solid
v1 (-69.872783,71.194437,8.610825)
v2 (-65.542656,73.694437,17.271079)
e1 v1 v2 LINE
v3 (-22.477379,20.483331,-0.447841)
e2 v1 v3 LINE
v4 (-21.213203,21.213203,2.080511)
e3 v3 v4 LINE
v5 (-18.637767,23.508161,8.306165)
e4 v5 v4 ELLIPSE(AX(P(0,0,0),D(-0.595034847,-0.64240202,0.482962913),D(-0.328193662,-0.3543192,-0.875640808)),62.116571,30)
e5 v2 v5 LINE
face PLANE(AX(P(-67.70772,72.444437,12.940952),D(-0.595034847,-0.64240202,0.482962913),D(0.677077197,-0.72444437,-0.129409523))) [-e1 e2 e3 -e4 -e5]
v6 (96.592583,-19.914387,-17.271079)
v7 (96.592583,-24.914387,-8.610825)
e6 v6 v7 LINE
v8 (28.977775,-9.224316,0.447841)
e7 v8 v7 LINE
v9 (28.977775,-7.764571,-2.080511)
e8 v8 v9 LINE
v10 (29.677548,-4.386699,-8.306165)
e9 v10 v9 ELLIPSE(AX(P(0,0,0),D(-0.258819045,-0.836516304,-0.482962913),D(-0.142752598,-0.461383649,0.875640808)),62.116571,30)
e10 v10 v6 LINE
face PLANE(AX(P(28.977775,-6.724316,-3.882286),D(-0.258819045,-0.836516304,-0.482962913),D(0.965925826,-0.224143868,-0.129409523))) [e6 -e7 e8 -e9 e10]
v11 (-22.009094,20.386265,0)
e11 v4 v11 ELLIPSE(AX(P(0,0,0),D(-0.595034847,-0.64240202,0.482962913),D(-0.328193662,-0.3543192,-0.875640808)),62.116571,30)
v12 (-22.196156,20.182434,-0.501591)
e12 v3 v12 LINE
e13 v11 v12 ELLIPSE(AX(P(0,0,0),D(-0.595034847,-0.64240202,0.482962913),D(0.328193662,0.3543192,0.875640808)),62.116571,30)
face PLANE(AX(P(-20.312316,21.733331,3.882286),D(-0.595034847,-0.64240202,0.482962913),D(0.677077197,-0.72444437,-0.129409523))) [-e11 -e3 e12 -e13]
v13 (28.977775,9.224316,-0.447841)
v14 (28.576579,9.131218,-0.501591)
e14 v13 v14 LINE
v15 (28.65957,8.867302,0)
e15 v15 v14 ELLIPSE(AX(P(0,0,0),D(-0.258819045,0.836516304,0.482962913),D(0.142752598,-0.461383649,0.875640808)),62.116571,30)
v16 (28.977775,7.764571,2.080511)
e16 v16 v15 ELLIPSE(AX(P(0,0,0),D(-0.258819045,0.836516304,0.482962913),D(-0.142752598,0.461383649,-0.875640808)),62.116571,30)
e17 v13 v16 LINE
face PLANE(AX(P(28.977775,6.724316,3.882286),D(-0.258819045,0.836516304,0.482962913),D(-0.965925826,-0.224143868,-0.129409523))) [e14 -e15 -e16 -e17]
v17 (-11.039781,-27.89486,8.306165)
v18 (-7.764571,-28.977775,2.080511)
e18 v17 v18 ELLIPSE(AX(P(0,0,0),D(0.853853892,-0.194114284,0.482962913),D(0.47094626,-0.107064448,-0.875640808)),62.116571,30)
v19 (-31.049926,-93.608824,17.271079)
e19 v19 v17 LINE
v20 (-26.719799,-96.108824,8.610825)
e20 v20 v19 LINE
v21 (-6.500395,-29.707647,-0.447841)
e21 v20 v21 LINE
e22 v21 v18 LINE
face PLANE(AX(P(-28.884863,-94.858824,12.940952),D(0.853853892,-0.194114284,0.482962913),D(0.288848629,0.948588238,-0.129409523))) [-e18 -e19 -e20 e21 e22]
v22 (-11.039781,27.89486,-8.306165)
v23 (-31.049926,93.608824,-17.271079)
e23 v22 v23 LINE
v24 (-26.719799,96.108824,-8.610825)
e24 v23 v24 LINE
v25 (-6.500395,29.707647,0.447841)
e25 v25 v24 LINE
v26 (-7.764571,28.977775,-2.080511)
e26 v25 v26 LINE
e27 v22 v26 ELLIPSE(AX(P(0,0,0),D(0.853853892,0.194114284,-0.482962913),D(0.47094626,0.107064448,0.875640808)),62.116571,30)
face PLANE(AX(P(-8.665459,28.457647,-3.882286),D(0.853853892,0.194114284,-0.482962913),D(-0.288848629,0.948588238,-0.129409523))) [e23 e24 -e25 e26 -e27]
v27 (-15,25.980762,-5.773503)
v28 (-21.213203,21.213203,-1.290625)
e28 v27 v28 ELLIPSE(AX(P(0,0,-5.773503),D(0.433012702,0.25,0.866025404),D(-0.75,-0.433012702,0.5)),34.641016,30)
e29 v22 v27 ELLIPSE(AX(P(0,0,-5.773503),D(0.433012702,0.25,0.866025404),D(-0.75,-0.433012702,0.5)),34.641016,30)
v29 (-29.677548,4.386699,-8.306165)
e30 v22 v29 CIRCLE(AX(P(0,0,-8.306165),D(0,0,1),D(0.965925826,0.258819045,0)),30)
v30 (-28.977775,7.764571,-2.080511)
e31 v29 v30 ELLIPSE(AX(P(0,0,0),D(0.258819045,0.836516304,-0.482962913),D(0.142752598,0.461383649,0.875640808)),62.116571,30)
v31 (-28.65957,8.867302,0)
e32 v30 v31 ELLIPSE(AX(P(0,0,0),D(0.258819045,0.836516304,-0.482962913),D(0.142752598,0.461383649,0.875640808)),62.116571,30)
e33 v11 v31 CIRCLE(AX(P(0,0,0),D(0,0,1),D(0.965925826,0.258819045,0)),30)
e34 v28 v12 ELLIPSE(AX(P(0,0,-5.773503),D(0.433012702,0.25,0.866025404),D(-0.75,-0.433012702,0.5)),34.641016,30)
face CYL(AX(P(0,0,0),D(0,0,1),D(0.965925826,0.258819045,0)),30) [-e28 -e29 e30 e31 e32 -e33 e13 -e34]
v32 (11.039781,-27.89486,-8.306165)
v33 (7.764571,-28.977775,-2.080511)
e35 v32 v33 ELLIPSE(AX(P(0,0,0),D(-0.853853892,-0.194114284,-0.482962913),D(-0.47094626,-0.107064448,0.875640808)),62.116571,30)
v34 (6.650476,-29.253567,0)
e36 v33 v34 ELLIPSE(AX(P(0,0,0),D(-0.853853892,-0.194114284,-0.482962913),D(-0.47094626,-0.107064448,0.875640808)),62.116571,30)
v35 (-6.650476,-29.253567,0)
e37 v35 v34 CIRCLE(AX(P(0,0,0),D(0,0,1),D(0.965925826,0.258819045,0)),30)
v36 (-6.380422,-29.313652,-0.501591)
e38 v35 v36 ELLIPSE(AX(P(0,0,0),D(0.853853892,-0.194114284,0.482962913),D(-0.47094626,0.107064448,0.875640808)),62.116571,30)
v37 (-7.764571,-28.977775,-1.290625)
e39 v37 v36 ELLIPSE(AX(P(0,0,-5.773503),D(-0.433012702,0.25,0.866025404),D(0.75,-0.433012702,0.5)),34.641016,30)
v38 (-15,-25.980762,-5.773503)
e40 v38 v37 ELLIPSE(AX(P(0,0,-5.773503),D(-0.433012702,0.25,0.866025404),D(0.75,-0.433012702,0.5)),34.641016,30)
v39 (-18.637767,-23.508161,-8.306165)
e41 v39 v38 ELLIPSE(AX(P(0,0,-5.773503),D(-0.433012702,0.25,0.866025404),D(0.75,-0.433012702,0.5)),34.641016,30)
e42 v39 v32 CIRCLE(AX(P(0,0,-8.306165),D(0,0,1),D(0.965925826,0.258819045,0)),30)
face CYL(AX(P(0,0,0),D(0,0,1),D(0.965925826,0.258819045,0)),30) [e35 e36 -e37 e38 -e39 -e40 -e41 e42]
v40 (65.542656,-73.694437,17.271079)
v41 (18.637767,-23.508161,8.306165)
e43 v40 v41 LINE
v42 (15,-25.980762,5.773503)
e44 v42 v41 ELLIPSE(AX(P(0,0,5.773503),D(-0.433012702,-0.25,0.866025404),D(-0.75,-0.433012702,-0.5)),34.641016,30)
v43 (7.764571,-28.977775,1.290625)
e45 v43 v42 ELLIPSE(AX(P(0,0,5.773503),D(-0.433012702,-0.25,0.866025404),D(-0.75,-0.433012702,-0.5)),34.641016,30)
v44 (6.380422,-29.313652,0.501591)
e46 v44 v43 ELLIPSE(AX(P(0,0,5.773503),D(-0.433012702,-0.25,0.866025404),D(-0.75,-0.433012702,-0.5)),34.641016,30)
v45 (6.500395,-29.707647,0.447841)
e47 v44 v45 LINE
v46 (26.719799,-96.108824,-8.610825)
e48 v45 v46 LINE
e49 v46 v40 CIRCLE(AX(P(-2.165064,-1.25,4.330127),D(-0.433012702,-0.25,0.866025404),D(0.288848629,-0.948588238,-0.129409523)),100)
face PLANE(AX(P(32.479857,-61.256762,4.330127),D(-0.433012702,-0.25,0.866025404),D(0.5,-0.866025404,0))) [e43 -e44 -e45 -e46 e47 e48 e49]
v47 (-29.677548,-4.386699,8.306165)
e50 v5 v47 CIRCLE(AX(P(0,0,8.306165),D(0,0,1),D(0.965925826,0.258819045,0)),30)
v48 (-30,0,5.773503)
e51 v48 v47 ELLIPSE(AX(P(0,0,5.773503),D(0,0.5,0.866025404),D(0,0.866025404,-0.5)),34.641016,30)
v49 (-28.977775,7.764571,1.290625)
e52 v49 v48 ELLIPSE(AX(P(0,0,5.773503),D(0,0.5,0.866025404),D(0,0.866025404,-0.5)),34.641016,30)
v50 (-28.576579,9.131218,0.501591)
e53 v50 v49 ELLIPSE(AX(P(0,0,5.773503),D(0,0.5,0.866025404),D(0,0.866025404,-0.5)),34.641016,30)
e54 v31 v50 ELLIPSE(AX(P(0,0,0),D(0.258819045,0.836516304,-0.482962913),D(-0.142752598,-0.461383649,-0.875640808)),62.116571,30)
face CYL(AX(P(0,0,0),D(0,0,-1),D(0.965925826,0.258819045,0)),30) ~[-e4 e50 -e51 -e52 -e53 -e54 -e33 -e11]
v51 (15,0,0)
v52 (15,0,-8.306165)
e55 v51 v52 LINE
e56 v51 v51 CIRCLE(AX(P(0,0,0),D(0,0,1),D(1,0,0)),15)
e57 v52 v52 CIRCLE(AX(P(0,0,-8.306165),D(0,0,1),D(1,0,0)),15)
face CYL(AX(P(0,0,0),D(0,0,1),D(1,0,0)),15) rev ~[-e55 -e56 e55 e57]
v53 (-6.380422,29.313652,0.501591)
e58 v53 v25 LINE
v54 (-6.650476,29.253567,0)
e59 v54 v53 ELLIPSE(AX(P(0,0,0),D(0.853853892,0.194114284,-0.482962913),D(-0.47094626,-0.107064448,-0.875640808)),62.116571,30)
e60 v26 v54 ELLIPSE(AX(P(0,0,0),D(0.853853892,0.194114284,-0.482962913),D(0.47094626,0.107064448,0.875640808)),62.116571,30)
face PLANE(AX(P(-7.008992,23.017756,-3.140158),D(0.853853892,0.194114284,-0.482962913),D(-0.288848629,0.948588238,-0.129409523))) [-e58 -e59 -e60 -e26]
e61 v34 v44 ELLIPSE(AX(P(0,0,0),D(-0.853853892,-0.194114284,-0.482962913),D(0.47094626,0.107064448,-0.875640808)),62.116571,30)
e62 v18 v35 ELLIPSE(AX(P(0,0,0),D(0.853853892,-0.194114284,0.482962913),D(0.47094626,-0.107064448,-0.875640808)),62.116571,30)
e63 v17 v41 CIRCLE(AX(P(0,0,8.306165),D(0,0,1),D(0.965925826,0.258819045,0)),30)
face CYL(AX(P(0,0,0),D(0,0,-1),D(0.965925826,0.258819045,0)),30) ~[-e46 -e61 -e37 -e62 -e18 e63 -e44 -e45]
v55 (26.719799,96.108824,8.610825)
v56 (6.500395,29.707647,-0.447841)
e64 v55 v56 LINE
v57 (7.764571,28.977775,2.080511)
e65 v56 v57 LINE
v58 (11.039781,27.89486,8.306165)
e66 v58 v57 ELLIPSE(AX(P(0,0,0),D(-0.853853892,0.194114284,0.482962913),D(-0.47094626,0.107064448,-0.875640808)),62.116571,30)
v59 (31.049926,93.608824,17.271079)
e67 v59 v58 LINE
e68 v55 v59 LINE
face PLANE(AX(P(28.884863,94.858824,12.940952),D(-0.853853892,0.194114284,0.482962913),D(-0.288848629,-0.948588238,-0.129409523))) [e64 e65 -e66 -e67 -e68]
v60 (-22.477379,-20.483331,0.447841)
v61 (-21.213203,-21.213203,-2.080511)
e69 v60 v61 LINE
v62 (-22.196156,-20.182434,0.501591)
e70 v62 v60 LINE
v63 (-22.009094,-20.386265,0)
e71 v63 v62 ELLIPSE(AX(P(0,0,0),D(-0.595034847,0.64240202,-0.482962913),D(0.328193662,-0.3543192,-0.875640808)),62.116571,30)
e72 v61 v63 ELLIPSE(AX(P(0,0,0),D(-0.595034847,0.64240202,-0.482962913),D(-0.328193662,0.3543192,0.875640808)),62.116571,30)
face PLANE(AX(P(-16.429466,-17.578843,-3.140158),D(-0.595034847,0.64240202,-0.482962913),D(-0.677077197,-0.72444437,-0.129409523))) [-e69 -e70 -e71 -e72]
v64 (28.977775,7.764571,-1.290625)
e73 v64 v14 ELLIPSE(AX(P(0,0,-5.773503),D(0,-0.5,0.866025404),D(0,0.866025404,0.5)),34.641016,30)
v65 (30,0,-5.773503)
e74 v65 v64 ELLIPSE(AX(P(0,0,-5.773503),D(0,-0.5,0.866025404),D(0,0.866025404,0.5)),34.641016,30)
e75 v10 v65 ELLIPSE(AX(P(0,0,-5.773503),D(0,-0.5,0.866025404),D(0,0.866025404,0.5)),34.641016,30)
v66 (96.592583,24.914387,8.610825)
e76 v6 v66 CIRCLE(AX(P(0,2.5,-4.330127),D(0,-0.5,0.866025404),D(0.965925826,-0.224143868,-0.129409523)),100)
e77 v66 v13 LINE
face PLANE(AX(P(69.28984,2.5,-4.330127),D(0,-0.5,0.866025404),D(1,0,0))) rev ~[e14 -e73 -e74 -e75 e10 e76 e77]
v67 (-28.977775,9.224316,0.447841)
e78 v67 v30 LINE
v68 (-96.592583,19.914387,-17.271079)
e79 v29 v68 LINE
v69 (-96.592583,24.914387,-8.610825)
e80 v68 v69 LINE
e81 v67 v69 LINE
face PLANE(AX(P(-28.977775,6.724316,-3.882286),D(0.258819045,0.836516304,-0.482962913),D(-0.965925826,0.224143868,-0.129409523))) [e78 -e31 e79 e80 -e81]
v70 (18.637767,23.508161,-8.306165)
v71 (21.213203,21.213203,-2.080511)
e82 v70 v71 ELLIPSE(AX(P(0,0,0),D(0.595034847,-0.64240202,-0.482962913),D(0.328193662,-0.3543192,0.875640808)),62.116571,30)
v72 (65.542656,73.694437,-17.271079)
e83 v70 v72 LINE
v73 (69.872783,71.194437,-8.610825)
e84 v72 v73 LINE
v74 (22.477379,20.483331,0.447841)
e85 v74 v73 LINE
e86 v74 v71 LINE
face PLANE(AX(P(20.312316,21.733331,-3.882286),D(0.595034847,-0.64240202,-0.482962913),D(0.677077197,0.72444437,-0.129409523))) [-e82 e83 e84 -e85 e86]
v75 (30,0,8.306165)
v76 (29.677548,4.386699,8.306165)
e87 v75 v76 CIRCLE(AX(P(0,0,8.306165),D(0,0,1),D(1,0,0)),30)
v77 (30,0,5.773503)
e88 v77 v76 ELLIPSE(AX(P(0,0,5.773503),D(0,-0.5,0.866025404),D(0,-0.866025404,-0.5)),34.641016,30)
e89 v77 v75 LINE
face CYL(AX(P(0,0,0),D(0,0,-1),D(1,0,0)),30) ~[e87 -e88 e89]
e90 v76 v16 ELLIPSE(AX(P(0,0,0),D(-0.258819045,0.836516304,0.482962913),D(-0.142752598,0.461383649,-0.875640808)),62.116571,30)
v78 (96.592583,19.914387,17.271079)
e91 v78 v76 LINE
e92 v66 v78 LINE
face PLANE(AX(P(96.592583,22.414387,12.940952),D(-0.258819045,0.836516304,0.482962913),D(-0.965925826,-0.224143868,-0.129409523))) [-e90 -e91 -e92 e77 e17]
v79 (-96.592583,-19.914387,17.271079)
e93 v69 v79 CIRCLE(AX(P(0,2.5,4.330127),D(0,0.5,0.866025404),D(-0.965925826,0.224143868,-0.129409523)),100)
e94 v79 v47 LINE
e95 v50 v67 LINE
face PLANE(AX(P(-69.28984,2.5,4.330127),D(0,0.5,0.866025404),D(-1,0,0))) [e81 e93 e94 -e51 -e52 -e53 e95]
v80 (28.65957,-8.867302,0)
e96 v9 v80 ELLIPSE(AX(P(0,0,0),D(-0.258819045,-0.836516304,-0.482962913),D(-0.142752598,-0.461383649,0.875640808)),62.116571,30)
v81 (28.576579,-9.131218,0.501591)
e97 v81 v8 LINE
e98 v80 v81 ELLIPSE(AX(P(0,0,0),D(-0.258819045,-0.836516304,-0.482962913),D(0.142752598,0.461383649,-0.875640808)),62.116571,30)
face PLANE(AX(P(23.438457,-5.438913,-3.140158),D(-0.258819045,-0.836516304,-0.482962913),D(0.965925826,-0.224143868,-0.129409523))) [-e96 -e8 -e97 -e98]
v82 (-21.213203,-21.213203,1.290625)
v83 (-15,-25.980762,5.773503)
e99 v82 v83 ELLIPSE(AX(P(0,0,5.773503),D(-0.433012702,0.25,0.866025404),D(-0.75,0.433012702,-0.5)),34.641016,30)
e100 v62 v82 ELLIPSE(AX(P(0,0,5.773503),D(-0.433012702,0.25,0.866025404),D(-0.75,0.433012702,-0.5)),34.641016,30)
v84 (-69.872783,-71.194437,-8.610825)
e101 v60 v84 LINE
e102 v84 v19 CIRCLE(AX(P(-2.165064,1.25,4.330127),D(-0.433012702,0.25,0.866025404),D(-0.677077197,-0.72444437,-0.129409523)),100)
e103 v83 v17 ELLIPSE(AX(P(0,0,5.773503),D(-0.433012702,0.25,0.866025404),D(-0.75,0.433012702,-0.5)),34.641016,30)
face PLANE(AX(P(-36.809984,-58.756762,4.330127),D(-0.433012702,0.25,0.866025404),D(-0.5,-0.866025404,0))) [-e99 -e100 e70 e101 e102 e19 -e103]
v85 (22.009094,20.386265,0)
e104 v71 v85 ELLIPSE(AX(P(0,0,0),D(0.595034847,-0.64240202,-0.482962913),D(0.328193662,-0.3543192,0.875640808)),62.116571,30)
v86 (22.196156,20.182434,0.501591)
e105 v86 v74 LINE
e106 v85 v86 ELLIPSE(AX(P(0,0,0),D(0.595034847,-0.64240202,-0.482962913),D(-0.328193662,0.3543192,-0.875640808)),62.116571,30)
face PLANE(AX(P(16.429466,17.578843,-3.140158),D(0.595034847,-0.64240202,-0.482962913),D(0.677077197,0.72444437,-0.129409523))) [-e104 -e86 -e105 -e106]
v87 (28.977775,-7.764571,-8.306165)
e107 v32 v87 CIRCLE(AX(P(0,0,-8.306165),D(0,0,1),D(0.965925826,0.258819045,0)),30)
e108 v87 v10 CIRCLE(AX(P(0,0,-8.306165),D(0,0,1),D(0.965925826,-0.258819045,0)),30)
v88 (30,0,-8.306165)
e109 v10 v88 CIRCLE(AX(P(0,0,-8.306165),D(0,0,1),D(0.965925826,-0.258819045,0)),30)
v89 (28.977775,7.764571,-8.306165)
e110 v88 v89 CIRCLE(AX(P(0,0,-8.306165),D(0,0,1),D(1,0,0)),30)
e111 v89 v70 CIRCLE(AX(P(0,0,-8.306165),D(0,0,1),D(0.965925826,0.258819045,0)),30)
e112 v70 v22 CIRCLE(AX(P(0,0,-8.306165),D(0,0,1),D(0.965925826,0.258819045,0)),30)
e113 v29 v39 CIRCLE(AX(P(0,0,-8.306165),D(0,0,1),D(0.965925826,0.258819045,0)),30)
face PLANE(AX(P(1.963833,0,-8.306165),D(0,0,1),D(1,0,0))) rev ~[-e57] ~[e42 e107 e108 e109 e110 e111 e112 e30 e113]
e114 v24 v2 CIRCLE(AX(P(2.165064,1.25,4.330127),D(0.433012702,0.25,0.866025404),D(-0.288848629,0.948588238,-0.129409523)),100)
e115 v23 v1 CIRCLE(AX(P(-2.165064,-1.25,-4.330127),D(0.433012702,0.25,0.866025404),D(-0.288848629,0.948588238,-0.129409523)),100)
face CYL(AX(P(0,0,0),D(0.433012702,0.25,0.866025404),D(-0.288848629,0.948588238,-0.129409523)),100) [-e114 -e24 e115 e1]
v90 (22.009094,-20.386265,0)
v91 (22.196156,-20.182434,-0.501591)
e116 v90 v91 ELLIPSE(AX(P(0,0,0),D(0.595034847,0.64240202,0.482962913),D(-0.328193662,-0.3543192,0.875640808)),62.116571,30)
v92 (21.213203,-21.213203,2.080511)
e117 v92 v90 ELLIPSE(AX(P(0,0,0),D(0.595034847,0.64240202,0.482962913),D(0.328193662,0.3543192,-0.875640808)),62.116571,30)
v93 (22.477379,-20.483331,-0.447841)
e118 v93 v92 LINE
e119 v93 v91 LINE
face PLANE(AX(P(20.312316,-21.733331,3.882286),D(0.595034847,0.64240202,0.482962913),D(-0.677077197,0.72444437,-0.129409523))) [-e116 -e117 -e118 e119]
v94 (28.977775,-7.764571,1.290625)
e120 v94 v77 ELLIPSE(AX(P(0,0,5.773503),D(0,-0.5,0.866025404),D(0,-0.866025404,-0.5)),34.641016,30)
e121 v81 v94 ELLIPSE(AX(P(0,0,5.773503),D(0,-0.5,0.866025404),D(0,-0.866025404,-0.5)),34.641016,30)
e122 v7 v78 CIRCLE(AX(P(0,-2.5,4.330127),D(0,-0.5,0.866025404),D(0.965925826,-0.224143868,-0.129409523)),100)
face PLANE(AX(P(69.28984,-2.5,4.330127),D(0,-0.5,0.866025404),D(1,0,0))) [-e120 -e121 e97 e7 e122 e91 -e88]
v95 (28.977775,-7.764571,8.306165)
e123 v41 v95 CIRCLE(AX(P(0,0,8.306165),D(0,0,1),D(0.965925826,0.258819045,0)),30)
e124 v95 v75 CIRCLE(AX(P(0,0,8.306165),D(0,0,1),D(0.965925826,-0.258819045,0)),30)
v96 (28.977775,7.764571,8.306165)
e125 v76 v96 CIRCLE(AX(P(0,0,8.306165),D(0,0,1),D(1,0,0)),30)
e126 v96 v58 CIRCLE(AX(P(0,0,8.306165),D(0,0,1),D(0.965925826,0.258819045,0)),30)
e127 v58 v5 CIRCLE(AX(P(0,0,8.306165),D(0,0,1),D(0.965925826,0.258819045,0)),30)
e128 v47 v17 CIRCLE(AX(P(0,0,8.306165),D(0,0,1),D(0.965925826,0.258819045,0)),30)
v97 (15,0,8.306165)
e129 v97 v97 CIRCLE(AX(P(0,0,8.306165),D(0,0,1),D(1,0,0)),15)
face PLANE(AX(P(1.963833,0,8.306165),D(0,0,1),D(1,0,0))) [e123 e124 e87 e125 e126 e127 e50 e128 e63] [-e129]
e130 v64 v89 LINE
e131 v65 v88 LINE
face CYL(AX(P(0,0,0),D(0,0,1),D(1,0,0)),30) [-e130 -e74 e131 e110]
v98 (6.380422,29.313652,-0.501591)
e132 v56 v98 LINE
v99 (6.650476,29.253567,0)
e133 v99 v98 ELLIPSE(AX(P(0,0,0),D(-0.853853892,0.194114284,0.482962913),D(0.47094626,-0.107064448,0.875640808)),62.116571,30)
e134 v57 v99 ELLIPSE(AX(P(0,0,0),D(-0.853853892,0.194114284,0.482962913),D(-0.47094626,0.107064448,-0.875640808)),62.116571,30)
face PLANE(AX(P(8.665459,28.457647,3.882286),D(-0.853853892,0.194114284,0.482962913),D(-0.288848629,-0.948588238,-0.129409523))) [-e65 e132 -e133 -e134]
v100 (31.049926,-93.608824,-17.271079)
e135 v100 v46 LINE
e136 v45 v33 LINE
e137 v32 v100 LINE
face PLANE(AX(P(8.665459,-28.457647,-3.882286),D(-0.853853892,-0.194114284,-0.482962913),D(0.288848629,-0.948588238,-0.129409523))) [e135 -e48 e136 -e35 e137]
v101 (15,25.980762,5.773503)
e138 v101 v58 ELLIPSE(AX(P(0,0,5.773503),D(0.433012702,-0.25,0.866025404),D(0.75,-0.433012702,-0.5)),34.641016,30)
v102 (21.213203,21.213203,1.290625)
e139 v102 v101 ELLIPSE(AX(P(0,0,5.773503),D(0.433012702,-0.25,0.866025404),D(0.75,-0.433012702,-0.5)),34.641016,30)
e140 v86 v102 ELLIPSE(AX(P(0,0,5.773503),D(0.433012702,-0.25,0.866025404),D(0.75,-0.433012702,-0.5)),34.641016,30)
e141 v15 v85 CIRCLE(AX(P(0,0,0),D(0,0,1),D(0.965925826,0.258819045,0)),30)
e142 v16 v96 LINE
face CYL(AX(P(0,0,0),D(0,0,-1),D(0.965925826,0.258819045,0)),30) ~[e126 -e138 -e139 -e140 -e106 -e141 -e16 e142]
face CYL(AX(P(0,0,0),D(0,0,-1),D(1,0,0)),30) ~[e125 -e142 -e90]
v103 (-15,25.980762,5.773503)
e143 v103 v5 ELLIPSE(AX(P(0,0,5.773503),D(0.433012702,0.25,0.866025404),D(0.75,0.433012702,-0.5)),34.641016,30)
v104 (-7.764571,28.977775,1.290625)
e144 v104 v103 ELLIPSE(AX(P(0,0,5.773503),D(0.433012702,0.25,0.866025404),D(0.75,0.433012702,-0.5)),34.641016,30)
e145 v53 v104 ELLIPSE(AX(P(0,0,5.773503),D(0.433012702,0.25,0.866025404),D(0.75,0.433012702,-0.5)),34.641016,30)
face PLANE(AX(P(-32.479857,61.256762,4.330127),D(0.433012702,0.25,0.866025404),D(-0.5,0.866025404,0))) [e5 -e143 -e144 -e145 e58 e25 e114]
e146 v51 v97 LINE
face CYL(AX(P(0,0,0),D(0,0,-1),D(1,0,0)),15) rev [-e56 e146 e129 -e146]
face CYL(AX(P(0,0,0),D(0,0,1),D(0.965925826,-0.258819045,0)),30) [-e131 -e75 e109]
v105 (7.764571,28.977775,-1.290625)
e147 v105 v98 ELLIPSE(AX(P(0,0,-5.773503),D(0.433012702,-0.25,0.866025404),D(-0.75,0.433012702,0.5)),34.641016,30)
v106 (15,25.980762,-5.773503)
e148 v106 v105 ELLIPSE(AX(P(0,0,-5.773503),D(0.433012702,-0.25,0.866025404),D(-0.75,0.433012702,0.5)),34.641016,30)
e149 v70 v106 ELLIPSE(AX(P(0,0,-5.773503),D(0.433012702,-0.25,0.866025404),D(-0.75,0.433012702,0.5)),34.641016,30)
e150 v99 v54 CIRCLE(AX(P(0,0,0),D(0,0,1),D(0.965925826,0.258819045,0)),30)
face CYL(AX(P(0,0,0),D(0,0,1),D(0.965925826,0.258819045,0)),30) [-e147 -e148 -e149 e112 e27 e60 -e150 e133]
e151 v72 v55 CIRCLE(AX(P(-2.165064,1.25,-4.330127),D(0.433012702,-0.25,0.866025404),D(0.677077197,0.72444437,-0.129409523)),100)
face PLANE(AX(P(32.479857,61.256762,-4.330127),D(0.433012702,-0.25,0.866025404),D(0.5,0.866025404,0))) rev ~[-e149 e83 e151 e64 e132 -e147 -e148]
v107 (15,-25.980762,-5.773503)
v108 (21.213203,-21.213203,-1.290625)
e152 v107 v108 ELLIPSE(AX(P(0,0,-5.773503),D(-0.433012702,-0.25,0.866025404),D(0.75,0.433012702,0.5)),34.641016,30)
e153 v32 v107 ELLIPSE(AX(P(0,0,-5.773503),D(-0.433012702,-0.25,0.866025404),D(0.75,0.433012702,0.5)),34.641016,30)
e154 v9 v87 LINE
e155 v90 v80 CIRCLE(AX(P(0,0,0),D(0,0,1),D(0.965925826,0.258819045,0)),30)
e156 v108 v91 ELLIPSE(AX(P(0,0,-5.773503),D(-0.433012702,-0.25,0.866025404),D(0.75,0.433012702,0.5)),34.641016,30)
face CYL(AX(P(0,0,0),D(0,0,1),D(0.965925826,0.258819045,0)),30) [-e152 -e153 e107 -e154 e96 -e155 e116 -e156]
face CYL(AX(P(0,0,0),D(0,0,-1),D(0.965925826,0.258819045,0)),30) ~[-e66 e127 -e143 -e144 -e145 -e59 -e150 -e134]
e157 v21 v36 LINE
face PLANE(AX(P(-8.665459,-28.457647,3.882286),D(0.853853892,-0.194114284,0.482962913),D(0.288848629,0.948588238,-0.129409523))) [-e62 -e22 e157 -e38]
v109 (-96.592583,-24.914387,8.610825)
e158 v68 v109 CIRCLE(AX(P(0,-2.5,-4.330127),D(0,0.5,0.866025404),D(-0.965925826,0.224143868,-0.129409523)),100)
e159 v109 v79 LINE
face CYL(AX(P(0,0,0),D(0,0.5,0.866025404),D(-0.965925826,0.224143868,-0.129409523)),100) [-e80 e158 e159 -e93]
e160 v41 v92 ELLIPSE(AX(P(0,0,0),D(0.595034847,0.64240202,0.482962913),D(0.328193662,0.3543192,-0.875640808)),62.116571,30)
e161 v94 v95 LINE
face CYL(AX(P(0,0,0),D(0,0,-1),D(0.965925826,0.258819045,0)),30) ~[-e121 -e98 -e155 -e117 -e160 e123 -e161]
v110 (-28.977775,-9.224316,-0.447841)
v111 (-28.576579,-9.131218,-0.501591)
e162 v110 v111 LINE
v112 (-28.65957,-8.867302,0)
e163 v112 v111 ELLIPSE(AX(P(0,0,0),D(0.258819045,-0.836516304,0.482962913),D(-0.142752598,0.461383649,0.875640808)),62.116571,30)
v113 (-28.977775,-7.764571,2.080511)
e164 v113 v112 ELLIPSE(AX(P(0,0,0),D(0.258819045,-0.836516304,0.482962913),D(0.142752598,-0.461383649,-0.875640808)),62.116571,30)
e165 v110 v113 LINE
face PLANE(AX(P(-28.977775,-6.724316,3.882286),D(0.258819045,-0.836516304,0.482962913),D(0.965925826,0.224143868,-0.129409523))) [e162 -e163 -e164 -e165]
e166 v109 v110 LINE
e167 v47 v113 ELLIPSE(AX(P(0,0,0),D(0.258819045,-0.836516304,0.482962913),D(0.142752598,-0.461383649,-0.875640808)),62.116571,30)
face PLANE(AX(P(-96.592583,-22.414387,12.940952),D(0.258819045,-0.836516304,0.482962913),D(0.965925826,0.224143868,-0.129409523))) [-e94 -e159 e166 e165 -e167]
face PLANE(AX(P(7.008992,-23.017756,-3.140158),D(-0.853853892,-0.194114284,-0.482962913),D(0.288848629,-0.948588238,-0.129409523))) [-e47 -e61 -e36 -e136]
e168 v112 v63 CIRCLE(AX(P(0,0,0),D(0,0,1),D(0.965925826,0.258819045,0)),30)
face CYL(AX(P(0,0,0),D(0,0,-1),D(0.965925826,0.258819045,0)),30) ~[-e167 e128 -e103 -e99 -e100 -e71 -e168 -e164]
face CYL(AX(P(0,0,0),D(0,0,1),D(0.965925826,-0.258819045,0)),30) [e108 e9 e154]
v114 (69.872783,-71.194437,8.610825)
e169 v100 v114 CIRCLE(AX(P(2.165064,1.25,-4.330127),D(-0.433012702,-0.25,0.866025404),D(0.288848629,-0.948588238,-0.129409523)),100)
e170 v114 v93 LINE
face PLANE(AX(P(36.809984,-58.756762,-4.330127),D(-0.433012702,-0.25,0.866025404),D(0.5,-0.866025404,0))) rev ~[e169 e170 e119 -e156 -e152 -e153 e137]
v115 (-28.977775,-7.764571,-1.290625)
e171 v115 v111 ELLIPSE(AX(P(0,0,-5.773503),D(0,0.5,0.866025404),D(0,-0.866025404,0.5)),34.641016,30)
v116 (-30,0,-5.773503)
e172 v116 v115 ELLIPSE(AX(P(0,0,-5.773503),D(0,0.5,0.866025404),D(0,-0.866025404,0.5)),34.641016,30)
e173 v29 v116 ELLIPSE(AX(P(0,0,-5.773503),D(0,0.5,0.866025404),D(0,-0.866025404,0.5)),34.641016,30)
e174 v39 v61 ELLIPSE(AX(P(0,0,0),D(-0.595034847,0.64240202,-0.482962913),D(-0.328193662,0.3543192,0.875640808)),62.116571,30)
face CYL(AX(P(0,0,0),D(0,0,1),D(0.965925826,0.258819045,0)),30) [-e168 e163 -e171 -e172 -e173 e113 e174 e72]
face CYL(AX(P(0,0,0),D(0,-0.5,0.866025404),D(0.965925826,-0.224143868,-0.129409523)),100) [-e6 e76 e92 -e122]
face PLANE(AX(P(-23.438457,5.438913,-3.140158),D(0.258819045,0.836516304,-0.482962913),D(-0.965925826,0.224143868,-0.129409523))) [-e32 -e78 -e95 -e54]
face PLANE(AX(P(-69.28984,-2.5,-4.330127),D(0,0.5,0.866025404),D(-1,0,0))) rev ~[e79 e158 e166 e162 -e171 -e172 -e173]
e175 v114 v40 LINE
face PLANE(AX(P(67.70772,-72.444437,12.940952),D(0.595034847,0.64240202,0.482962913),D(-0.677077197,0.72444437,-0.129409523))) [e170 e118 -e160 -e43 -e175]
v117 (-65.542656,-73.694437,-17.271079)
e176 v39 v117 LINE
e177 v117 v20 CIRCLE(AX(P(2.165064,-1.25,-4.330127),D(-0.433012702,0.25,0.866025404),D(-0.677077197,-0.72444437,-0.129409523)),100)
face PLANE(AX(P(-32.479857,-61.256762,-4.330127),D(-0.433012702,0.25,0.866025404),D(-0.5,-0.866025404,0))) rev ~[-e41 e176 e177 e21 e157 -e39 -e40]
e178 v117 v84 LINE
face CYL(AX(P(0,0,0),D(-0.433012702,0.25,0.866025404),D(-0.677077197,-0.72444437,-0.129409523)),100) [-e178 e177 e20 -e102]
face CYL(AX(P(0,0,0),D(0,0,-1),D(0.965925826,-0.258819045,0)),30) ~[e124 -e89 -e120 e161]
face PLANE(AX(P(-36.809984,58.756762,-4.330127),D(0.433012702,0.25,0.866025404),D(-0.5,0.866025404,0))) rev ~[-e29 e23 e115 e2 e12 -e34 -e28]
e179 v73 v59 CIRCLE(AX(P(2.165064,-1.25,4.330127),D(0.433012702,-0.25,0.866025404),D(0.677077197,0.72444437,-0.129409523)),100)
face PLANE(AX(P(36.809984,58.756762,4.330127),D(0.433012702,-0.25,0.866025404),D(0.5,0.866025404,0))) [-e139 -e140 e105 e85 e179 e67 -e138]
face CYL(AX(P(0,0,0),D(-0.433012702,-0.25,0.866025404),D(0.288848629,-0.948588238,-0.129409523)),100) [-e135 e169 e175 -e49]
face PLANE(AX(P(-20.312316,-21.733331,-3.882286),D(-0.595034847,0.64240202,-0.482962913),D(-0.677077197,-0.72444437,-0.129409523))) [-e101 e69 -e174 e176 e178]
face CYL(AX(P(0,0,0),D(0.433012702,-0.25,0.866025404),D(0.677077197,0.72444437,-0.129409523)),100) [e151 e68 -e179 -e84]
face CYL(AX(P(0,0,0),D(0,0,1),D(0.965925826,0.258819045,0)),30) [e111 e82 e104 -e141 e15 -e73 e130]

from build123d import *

# Parameters (mm, degrees)
F1_DEPTH      = 5
F2_ANGLE      = 30
F0_R          = 15
F4_DEPTH      = 25
F4_DEPTH_BACK = 25
F5_COUNT      = 6
F6_DEPTH      = 8.3061645655
F6_DEPTH_BACK = 8.3061645655


with BuildPart() as f1:
    # F0 (on Top) → F1 (new body, symmetric)
    with BuildSketch(Plane.XY):
        with BuildLine():
            Line((28.9777747887, -7.7645713531), (96.5925826289, -25.8819045103))
            ThreePointArc((96.5925826289, -25.8819045103), (100, 0), (96.5925826289, 25.8819045103))
            Line((96.5925826289, 25.8819045103), (28.9777747887, 7.7645713531))
            ThreePointArc((28.9777747887, 7.7645713531), (29.7433458412, 3.9157857666), (30, 0))
            ThreePointArc((30, 0), (29.7433458412, -3.9157857666), (28.9777747887, -7.7645713531))
        make_face()
        with BuildLine():
            Line((23.4384574105, -6.280315735), (28.9777747887, -7.7645713531))
            ThreePointArc((28.9777747887, -7.7645713531), (29.7433458412, -3.9157857666), (30, 0))
            ThreePointArc((30, 0), (29.7433458412, 3.9157857666), (28.9777747887, 7.7645713531))
            Line((28.9777747887, 7.7645713531), (23.4384574105, 6.280315735))
            ThreePointArc((23.4384574105, 6.280315735), (24.2652766627, 0), (23.4384574105, -6.280315735))
        make_face()
    extrude(amount=F1_DEPTH, both=True)


with BuildPart() as f1_1:
    # F2: moved
    add(f1.part.rotate(Axis((53.4821525216, 0, 0), (1, 0, 0)), F2_ANGLE))

    # F0 (on Top) → F4 (cut, two sides)
    with BuildSketch(Plane.XY) as f4_sk:
        with BuildLine():
            ThreePointArc((28.9777747887, 7.7645713531), (-30, 0), (28.9777747887, -7.7645713531))
            Line((28.9777747887, -7.7645713531), (23.4384574105, -6.280315735))
            ThreePointArc((23.4384574105, -6.280315735), (24.2652766627, 0), (23.4384574105, 6.280315735))
            Line((23.4384574105, 6.280315735), (28.9777747887, 7.7645713531))
        make_face()
        Circle(F0_R, mode=Mode.SUBTRACT)
        with BuildLine():
            Line((23.4384574105, -6.280315735), (28.9777747887, -7.7645713531))
            ThreePointArc((28.9777747887, -7.7645713531), (29.7433458412, -3.9157857666), (30, 0))
            ThreePointArc((30, 0), (29.7433458412, 3.9157857666), (28.9777747887, 7.7645713531))
            Line((28.9777747887, 7.7645713531), (23.4384574105, 6.280315735))
            ThreePointArc((23.4384574105, 6.280315735), (24.2652766627, 0), (23.4384574105, -6.280315735))
        make_face()
    extrude(amount=-F4_DEPTH, mode=Mode.SUBTRACT)
    extrude(f4_sk.sketch, amount=F4_DEPTH_BACK, mode=Mode.SUBTRACT)


with BuildPart() as f5_1:
    # F5: instance of F1
    add(f1_1.part.rotate(Axis((0, 0, 24.5690848678), (0, 0, 1)), 1 * 360 / F5_COUNT))


with BuildPart() as f5_2:
    # F5: instance of F1
    add(f1_1.part.rotate(Axis((0, 0, 24.5690848678), (0, 0, 1)), 2 * 360 / F5_COUNT))


with BuildPart() as f5_3:
    # F5: instance of F1
    add(f1_1.part.rotate(Axis((0, 0, 24.5690848678), (0, 0, 1)), 3 * 360 / F5_COUNT))


with BuildPart() as f5_4:
    # F5: instance of F1
    add(f1_1.part.rotate(Axis((0, 0, 24.5690848678), (0, 0, 1)), 4 * 360 / F5_COUNT))


with BuildPart() as f5_5:
    # F5: instance of F1
    add(f1_1.part.rotate(Axis((0, 0, 24.5690848678), (0, 0, 1)), 5 * 360 / F5_COUNT))


with BuildPart() as f1_2:
    add(f1_1.part)

    add(f5_1.part)  # F6 merges F5_1

    add(f5_2.part)  # F6 merges F5_2

    add(f5_3.part)  # F6 merges F5_3

    add(f5_4.part)  # F6 merges F5_4

    add(f5_5.part)  # F6 merges F5_5
    # F0 (on Top) → F6 (join, two sides)
    with BuildSketch(Plane.XY) as f6_sk:
        with BuildLine():
            ThreePointArc((28.9777747887, 7.7645713531), (-30, 0), (28.9777747887, -7.7645713531))
            Line((28.9777747887, -7.7645713531), (23.4384574105, -6.280315735))
            ThreePointArc((23.4384574105, -6.280315735), (24.2652766627, 0), (23.4384574105, 6.280315735))
            Line((23.4384574105, 6.280315735), (28.9777747887, 7.7645713531))
        make_face()
        Circle(F0_R, mode=Mode.SUBTRACT)
        with BuildLine():
            Line((23.4384574105, -6.280315735), (28.9777747887, -7.7645713531))
            ThreePointArc((28.9777747887, -7.7645713531), (29.7433458412, -3.9157857666), (30, 0))
            ThreePointArc((30, 0), (29.7433458412, 3.9157857666), (28.9777747887, 7.7645713531))
            Line((28.9777747887, 7.7645713531), (23.4384574105, 6.280315735))
            ThreePointArc((23.4384574105, 6.280315735), (24.2652766627, 0), (23.4384574105, -6.280315735))
        make_face()
    extrude(amount=F6_DEPTH)
    extrude(f6_sk.sketch, amount=-F6_DEPTH_BACK)


solid = f1_2.part
